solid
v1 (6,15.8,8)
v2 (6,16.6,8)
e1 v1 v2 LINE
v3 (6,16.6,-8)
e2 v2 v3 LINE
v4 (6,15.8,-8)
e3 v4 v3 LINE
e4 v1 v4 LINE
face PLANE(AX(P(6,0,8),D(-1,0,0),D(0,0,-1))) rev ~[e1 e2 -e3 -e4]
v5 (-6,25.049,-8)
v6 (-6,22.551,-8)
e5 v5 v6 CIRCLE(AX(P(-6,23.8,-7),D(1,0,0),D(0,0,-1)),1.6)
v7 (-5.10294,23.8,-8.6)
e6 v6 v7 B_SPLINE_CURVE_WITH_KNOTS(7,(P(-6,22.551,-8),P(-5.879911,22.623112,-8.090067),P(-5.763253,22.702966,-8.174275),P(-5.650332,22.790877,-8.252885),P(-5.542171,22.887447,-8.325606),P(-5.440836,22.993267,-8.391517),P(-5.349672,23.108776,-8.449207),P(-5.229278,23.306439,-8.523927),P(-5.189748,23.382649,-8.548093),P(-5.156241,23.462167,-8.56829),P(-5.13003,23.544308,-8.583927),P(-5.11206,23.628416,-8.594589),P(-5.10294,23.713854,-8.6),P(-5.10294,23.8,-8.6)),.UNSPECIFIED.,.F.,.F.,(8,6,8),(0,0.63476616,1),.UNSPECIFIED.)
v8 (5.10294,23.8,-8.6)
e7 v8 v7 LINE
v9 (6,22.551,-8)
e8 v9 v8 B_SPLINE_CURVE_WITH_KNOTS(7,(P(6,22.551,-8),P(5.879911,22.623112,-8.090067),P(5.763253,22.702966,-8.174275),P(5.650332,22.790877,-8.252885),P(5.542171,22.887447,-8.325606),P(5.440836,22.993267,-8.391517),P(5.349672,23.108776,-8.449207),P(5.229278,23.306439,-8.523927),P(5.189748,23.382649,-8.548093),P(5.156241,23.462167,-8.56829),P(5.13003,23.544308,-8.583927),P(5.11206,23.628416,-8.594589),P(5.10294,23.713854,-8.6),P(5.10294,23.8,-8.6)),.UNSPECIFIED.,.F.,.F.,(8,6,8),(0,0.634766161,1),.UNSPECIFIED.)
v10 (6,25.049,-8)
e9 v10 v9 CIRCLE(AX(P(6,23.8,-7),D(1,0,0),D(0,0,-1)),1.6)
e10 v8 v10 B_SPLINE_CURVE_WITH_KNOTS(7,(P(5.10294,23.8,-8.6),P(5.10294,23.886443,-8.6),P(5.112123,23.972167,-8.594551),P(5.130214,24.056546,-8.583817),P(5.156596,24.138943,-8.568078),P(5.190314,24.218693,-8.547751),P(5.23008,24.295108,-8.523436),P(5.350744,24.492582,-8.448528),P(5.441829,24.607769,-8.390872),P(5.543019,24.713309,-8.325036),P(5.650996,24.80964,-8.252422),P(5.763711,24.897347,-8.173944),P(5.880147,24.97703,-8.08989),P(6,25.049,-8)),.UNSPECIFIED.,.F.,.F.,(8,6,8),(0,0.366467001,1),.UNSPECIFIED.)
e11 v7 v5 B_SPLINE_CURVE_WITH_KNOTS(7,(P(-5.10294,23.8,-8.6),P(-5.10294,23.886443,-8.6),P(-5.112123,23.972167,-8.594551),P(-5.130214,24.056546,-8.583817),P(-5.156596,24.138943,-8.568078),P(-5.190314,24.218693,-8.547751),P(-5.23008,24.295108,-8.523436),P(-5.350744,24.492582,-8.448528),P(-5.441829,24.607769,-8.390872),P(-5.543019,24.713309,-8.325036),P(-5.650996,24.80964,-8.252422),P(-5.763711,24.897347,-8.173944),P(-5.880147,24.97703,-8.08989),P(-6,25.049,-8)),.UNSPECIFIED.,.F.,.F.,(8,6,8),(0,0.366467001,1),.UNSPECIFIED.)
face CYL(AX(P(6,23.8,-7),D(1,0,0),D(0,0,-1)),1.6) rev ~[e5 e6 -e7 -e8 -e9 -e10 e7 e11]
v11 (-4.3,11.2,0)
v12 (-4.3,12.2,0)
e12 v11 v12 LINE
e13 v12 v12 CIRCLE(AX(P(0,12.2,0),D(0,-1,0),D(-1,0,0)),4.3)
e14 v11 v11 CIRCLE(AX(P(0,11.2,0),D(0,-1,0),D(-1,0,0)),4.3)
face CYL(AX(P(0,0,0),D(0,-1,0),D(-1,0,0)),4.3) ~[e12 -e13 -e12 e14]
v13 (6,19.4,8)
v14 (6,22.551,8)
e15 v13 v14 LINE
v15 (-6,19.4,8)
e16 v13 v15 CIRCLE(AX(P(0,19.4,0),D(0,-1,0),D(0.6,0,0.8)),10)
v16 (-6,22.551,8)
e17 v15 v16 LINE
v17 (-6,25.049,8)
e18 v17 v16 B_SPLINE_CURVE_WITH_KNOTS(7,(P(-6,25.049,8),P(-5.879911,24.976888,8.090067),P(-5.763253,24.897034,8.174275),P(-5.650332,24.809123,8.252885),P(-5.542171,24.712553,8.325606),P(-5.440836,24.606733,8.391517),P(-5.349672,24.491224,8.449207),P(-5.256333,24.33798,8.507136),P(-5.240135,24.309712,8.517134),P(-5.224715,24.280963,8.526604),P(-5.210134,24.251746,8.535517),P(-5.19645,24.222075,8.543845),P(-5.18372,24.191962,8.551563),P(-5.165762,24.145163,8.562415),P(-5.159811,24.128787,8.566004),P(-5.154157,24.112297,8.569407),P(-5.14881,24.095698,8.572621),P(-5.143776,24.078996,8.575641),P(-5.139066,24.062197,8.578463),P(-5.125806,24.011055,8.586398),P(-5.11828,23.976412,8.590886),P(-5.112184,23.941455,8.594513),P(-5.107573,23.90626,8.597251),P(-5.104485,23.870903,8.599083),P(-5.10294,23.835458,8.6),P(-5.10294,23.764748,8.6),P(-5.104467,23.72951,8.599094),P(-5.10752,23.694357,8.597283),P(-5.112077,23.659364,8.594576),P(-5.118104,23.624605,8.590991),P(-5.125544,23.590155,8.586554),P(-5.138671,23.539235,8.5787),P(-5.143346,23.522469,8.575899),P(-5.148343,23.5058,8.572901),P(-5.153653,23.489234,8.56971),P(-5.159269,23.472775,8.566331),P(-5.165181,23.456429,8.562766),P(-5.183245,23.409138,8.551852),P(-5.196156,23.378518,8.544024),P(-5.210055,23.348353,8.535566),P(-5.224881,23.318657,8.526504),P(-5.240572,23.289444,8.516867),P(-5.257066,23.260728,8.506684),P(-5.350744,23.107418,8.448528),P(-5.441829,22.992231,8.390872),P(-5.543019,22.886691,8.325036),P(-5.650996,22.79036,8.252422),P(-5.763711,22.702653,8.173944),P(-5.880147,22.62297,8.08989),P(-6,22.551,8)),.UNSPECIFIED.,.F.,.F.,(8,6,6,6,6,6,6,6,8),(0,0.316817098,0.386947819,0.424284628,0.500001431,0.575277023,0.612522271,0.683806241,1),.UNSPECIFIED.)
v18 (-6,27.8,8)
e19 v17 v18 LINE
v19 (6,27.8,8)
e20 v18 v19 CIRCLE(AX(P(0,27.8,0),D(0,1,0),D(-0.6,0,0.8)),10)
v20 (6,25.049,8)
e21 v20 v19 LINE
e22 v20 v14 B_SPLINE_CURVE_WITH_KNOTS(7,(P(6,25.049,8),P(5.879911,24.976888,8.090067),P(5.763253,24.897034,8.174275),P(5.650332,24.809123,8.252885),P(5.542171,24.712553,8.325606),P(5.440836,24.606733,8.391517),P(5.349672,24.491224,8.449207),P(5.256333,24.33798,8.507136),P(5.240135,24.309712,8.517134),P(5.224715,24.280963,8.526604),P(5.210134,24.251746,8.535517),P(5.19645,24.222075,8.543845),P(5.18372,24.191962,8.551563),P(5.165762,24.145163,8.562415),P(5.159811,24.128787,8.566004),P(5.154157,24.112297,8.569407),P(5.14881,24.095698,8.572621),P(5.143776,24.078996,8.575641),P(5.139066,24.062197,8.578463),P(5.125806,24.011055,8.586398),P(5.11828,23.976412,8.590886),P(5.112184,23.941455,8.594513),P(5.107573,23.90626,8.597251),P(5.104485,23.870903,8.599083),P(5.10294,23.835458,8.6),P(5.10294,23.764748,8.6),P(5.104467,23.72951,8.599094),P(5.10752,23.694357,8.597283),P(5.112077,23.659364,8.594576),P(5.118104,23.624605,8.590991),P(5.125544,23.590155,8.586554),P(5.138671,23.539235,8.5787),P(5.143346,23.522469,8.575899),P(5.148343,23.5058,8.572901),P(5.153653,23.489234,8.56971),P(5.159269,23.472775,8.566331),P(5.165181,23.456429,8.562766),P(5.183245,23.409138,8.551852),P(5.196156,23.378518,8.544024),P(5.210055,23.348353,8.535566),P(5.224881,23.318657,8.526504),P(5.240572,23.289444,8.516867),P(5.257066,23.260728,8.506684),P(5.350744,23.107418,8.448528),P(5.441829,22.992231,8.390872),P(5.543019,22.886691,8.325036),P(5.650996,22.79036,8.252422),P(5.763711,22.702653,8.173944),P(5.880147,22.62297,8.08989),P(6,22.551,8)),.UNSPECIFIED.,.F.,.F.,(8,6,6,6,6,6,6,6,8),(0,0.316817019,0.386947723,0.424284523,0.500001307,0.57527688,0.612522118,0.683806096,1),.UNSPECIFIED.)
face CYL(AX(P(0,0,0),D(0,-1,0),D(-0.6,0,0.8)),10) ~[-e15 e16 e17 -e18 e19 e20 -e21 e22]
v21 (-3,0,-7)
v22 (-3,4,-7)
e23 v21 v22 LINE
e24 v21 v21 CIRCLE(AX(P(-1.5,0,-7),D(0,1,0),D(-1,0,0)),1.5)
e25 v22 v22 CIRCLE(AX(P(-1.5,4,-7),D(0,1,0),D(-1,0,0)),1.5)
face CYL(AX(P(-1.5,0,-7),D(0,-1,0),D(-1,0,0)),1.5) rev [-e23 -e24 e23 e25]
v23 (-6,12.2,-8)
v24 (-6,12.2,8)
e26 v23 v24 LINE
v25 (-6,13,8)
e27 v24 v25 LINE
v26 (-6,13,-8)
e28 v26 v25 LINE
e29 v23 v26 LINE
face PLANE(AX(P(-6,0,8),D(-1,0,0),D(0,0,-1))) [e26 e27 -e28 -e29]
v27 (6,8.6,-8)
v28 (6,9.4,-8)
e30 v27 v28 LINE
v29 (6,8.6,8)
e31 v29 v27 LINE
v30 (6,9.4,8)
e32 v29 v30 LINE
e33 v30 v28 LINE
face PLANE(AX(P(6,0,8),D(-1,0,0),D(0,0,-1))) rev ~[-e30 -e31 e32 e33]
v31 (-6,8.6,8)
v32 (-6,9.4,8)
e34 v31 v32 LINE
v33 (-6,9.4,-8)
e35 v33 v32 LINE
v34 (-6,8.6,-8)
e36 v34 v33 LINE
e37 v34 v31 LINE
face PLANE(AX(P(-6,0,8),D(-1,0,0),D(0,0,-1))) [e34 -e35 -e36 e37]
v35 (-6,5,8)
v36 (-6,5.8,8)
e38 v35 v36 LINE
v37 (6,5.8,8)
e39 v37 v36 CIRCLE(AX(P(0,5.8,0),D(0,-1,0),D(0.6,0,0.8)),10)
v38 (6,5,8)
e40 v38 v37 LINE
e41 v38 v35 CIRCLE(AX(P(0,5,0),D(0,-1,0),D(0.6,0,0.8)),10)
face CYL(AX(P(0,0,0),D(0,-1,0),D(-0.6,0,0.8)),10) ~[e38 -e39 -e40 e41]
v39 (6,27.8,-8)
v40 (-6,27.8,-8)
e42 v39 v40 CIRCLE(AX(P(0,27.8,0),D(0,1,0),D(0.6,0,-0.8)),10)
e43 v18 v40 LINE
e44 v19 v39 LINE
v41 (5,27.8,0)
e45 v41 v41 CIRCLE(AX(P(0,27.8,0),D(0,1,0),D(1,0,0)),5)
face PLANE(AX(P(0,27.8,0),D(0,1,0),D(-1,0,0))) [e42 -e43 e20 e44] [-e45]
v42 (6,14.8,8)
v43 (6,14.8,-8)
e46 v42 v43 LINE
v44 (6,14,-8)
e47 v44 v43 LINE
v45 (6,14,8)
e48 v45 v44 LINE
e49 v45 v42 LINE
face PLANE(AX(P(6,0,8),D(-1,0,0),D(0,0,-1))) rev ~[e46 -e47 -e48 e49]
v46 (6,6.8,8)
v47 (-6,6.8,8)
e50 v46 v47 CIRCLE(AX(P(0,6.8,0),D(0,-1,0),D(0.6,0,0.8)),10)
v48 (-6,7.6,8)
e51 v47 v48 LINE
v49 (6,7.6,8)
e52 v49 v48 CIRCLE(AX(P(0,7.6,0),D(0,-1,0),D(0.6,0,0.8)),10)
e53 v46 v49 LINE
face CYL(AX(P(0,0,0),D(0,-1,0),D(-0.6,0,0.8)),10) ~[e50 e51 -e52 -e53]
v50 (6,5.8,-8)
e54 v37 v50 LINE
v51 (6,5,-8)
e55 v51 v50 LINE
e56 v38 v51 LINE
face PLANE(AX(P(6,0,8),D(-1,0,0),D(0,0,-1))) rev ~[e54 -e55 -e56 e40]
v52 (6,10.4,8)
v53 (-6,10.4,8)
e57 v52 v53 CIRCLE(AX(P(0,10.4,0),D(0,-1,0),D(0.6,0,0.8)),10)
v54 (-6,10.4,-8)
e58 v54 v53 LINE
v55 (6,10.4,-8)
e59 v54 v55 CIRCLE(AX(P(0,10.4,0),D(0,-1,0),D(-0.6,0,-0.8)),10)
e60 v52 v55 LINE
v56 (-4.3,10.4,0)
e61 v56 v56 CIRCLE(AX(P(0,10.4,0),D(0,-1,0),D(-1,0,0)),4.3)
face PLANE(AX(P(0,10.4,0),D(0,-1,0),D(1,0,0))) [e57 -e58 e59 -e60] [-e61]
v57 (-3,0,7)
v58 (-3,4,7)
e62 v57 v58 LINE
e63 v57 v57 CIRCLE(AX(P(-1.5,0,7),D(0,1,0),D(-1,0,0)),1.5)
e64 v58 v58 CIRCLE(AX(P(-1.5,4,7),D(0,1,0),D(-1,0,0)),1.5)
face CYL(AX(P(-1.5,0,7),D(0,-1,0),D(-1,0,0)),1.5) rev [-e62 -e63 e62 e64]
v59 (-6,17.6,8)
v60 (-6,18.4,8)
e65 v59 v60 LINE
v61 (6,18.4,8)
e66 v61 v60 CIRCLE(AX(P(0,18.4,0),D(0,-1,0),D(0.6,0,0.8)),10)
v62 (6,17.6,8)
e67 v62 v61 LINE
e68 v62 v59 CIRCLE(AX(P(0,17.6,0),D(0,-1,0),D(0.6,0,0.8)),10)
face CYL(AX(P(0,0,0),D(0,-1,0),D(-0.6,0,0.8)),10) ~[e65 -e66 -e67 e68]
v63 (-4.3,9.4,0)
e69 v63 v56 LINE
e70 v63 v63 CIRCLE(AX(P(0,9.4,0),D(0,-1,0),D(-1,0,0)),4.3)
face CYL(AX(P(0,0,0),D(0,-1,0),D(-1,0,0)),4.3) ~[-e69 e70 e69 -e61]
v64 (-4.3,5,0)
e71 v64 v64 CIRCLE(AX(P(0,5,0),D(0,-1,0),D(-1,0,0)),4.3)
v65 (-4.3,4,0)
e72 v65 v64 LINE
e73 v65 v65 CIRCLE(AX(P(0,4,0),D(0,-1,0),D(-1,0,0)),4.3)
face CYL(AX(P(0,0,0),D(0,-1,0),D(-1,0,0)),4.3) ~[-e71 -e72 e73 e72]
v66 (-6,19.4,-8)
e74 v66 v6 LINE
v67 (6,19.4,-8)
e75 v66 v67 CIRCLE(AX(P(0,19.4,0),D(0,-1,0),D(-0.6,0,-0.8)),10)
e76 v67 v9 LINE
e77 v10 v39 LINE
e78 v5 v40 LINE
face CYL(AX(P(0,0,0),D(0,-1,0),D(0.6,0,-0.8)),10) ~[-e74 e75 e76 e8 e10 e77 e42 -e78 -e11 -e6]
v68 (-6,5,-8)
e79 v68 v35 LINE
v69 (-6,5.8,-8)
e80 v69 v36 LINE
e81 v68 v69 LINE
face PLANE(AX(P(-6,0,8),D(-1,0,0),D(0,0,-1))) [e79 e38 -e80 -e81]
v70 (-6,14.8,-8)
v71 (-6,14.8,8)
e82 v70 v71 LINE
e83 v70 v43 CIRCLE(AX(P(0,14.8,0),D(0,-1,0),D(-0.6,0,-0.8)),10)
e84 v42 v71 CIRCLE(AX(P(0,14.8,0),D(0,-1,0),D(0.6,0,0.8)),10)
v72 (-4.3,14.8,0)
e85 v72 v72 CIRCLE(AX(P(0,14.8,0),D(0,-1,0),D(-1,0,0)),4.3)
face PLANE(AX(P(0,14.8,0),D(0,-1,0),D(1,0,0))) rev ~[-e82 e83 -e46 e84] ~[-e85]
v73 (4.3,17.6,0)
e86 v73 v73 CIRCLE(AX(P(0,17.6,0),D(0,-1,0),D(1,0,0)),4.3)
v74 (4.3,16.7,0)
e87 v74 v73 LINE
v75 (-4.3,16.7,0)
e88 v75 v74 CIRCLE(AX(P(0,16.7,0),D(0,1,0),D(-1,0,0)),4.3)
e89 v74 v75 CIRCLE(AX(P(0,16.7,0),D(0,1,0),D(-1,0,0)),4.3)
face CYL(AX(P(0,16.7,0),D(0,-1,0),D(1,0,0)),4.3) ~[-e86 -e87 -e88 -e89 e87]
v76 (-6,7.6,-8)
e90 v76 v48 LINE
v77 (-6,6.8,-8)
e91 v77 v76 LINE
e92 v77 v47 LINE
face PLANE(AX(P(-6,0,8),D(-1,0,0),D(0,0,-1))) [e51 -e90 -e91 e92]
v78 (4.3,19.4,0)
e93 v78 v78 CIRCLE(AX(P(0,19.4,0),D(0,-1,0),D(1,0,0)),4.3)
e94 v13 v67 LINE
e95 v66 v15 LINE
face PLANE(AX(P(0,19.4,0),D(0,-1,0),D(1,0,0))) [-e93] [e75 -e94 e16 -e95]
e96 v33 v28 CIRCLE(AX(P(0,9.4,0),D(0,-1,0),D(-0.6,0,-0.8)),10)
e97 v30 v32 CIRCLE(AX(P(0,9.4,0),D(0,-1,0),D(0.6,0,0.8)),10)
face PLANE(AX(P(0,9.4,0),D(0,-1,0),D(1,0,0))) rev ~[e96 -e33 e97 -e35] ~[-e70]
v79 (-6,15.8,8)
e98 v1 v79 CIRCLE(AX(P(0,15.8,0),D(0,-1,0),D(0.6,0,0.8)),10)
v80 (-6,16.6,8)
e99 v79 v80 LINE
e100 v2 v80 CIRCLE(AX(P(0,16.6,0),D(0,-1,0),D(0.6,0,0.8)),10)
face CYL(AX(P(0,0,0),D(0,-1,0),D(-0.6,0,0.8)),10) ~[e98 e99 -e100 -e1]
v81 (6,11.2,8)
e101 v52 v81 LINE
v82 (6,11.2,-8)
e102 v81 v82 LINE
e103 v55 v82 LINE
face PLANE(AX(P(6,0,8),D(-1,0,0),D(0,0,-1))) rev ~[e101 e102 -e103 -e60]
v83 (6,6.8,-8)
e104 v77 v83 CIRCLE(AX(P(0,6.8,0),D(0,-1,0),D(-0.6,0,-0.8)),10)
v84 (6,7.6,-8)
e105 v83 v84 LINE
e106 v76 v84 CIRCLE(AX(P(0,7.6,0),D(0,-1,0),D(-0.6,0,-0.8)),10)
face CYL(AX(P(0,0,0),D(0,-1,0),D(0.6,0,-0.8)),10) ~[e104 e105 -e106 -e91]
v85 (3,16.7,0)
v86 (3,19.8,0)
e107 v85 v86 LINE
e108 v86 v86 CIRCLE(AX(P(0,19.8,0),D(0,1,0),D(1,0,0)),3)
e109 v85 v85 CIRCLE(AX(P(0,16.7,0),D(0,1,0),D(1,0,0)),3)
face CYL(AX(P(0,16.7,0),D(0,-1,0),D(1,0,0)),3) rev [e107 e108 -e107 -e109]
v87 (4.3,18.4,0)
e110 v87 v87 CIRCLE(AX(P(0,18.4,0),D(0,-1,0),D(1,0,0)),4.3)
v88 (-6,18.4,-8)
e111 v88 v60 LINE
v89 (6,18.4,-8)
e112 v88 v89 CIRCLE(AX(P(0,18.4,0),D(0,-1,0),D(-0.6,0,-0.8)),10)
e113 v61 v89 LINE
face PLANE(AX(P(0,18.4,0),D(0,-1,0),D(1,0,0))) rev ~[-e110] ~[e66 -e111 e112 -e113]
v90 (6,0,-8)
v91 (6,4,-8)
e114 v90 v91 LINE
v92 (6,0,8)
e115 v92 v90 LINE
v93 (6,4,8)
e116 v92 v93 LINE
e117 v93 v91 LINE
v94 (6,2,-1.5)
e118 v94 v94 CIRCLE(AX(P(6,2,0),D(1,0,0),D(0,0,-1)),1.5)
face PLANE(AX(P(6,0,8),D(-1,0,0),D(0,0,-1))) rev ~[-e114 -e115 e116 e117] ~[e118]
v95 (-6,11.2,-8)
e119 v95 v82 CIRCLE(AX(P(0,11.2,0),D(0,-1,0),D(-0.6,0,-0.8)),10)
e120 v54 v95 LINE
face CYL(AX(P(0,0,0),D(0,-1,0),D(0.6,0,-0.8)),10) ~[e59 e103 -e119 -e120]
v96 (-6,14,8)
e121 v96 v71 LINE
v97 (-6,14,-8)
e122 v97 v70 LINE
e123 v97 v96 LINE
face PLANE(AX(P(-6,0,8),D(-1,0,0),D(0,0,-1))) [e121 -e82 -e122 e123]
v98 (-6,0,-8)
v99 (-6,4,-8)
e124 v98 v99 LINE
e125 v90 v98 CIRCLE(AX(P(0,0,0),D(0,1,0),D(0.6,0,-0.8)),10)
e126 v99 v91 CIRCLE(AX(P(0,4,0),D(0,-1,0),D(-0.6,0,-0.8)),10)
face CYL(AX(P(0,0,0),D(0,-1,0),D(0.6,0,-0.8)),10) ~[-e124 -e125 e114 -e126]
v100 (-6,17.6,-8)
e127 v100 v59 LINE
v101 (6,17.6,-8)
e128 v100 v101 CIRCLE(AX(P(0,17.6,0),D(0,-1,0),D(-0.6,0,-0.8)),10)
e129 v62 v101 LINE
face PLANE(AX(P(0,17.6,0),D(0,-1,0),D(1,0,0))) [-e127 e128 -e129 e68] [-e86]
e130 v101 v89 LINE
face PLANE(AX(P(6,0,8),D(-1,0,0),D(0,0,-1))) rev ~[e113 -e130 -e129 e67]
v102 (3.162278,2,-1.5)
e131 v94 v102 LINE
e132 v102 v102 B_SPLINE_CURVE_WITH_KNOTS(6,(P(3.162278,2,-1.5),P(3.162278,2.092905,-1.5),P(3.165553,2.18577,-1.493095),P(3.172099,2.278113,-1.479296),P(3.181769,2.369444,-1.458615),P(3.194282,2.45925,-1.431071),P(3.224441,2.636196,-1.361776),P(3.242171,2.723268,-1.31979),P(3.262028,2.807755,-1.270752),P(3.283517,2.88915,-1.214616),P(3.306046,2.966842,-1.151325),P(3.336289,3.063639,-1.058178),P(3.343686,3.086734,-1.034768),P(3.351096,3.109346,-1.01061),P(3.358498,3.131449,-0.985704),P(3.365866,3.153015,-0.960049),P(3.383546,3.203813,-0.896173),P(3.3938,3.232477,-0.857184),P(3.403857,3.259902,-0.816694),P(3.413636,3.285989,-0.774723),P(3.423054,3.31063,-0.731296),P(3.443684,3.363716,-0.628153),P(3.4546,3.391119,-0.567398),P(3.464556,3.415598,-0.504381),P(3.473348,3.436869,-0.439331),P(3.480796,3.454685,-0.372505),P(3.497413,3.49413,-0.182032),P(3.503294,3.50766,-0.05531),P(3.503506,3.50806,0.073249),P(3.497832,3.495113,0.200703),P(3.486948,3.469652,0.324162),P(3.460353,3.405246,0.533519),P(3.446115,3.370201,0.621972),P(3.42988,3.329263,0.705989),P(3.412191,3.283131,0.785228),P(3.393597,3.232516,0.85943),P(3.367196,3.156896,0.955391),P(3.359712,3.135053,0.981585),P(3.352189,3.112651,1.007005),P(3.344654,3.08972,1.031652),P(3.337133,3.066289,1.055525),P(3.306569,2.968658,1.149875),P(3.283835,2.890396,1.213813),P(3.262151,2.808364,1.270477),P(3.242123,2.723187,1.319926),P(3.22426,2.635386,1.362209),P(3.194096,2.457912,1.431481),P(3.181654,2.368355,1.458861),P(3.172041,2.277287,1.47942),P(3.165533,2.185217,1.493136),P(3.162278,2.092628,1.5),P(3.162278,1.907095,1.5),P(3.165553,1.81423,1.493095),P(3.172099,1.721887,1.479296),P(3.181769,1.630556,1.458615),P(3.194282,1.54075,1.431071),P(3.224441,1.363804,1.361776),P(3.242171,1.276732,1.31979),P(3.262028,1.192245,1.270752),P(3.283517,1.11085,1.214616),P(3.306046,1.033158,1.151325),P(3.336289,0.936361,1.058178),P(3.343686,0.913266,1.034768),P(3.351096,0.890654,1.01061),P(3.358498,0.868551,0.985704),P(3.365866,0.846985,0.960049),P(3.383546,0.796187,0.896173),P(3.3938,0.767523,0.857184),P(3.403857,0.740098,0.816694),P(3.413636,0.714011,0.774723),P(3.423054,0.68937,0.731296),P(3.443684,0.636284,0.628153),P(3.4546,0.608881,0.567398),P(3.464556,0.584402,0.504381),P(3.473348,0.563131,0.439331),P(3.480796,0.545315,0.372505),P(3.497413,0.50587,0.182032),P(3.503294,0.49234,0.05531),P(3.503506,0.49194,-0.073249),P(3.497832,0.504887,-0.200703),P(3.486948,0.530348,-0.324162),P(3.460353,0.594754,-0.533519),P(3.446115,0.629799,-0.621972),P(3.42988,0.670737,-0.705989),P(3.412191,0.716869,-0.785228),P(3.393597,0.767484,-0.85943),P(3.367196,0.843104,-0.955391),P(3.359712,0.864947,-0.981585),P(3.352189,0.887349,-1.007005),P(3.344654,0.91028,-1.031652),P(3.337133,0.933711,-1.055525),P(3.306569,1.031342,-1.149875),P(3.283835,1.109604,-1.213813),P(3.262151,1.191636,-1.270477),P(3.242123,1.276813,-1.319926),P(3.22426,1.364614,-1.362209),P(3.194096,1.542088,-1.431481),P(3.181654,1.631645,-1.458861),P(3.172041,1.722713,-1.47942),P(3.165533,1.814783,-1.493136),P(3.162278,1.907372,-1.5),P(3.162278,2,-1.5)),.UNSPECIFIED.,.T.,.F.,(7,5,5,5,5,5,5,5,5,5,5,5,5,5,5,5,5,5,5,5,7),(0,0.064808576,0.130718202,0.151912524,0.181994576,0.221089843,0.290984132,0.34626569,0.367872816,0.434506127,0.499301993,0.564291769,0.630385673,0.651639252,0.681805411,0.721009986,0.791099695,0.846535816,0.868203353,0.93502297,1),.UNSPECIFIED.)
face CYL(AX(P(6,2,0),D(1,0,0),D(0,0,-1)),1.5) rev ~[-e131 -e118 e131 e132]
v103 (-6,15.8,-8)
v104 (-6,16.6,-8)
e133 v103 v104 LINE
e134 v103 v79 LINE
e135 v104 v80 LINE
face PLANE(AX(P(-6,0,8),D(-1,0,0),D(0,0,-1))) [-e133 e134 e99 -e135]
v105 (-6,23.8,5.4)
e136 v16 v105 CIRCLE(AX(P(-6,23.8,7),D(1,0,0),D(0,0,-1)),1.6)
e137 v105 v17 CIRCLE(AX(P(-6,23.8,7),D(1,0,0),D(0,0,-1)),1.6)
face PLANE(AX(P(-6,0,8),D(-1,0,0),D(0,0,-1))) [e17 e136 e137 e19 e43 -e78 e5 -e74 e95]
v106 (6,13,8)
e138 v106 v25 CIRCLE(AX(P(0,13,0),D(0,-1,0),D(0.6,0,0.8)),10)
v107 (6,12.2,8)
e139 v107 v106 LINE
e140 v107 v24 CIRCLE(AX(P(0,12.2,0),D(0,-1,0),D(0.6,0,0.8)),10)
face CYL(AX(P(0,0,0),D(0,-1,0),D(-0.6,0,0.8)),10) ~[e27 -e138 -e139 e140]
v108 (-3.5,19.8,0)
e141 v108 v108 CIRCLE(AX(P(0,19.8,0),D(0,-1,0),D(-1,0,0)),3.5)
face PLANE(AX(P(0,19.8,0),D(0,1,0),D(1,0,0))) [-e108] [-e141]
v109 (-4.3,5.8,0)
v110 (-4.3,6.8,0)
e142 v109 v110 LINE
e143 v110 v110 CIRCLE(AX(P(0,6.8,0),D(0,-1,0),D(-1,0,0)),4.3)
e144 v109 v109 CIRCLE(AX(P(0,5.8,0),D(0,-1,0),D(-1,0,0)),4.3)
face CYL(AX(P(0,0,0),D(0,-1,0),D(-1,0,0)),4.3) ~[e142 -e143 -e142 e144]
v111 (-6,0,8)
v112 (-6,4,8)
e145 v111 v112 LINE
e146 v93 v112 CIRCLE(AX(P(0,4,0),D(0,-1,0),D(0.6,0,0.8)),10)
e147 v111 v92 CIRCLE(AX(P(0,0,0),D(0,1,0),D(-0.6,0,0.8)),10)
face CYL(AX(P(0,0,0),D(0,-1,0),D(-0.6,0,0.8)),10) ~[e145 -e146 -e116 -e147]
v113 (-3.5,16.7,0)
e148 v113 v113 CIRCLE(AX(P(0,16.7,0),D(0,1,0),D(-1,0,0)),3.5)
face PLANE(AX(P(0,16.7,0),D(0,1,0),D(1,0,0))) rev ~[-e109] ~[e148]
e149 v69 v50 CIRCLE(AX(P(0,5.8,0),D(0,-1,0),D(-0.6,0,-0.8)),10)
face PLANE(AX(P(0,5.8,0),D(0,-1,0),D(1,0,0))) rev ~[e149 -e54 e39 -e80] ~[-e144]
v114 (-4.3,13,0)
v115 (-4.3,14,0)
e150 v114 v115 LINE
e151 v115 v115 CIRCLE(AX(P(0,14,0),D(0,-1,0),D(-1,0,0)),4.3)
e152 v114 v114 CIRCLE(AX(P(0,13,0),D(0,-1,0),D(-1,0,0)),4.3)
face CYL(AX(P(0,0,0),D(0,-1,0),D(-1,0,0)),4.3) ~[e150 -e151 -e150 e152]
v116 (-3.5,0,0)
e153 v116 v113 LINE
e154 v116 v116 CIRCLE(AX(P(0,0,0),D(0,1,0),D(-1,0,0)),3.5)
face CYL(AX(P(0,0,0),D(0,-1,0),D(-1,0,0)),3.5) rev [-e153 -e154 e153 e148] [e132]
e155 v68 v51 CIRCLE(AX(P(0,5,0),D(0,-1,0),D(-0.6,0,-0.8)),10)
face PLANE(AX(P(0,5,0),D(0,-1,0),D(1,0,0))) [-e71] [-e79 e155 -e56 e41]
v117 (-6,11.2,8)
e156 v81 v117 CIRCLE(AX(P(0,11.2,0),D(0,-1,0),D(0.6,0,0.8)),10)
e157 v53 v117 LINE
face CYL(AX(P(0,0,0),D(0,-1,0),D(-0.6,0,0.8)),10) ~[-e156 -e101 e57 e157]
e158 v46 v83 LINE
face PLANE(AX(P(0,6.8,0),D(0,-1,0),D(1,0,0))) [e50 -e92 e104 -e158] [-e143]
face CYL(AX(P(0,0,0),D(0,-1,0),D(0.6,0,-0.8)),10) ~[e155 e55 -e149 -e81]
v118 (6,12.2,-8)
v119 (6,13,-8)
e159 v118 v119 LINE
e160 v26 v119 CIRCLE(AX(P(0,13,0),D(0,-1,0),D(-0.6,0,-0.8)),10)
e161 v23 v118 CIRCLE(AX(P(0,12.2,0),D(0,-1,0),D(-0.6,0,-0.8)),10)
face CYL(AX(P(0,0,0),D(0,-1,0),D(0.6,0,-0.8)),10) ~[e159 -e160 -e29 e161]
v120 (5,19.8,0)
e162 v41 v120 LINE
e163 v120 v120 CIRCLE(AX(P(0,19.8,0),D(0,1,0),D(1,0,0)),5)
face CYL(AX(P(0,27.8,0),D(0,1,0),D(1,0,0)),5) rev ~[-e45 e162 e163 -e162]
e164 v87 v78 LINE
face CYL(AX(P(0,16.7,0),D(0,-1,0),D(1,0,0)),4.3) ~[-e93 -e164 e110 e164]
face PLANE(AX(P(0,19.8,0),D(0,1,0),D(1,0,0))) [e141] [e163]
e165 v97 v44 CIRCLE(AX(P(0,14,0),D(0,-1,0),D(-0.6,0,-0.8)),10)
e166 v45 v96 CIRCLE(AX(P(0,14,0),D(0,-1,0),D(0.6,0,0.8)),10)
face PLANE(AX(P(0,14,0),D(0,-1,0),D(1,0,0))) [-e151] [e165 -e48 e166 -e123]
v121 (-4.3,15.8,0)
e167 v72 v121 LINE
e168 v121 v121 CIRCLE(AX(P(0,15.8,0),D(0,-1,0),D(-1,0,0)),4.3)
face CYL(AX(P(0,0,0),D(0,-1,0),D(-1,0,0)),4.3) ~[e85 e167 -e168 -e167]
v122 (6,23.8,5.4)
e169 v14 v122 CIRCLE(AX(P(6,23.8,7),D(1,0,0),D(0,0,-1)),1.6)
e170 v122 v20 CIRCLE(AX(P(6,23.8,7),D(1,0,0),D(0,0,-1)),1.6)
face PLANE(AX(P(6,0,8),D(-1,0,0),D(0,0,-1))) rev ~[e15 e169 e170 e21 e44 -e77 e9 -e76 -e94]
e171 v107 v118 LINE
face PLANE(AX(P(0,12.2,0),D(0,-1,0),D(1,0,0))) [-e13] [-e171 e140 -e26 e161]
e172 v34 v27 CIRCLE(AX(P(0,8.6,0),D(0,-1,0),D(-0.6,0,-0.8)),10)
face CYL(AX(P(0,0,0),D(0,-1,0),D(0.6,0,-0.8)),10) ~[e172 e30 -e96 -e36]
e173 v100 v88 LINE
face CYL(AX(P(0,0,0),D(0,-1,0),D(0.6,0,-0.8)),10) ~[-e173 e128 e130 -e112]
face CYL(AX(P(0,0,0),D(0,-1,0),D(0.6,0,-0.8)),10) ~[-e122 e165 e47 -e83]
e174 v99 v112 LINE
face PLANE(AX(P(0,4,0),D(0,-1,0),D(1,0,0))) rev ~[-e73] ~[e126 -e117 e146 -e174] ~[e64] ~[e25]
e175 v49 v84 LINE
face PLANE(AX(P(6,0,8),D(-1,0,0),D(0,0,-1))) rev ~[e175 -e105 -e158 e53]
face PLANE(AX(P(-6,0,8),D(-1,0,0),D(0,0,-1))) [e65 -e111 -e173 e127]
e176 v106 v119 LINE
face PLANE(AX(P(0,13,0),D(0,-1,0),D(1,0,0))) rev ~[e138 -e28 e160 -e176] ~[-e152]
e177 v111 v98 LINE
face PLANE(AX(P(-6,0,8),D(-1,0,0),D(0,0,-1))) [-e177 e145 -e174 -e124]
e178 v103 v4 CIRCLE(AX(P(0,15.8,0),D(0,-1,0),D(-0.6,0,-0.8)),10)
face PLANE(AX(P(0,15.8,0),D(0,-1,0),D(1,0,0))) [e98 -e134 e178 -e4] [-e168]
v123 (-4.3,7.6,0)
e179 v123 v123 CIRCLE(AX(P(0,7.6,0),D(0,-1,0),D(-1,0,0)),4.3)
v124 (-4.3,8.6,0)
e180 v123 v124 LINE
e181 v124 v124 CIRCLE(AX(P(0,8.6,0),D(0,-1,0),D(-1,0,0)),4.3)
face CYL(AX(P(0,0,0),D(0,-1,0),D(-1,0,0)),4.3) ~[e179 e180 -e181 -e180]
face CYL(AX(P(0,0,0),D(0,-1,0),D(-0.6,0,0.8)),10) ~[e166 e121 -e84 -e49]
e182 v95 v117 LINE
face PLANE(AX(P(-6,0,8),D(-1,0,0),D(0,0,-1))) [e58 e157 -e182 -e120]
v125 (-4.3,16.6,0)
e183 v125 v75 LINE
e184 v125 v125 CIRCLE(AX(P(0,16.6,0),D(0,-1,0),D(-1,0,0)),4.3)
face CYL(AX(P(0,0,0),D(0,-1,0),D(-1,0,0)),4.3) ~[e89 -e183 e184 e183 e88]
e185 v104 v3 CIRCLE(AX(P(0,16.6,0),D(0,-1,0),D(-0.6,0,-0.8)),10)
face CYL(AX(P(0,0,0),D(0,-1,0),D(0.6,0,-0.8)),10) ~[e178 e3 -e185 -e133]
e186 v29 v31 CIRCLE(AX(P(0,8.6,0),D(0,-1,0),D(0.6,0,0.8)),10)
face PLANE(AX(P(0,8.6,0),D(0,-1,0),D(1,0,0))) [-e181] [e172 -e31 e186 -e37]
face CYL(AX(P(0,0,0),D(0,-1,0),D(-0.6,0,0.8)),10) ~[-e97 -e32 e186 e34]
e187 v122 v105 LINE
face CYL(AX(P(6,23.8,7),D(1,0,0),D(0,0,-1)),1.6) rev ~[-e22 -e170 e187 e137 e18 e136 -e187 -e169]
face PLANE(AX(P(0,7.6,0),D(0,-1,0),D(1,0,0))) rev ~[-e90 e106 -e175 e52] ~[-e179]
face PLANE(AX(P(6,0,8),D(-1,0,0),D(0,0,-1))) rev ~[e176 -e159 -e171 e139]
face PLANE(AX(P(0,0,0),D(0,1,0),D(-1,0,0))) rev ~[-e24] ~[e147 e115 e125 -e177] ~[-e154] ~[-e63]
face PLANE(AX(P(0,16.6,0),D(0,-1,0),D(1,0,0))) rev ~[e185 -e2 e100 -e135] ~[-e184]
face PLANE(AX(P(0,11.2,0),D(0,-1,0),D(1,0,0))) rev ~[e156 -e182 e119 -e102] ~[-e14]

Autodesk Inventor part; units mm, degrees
ref_plane "YZ Plane" through (0, 0, 0) normal (1, 0, 0) x (0, 1, 0)
ref_plane "XZ Plane" through (0, 0, 0) normal (0, 1, 0) x (-1, 0, 0)
sketch "Sketch1" plane through (0, 0, 0) normal (0, 1, 0) x (-1, 0, 0)
  line L0 (6, 8) -> (6, -8)
  line L1 (-6, 8) -> (-6, -8)
  arc A0 (6, 8) -> (-6, 8) centre (0, 0) ccw
  arc A1 (-6, -8) -> (6, -8) centre (0, 0) ccw
  circle A2 centre (1.5, 7) radius 1.5
  line L2 (0, 0) -> (6, 0) construction
  circle A3 centre (1.5, -7) radius 1.5
  circle A4 centre (0, 0) radius 3.5
  circle A5 centre (0, 0) radius 4.3
  dimension "d0" = 10
  dimension "d1" = 10
  dimension "d3" = 12
  dimension "d4" = 3
  dimension "d5" = 7
  dimension "d6" = 1.5
  dimension "d7" = 7
  dimension "d16" = 8.6
extrude "Extrusion1" add sketch "Sketch1" along normal blind 27.8 contours L0 A1 L1 A0 | A2 | A3 | A5
ref_plane "Work Plane1" through (0, 4, 0) normal (0, -1, 0) x (1, 0, 0)
sketch "Sketch2" plane through (0, 4, 0) normal (0, -1, 0) x (1, 0, 0)
  line L0 (-6, -8) -> (-6, 8) projected
  arc A0 (6, 8) -> (-6, 8) centre (0, 0) ccw projected
  line L1 (6, 8) -> (6, -8) projected
  arc A1 (-6, -8) -> (6, -8) centre (0, 0) ccw projected
extrude "Extrusion2" cut sketch "Sketch2" against normal blind 1
pattern_linear "Rectangular Pattern1" count 9 spacing 1.8 along (0, 1, 0) of "Extrusion2"
extrude "Extrusion3" add sketch "Sketch1" along normal blind 16.7 contours A5
sketch "Sketch3" plane through (0, 16.7, 0) normal (0, 1, 0) x (1, 0, 0)
  circle A0 centre (0, 0) radius 4.3 projected
  circle A1 centre (0, 0) radius 3
  dimension "d19" = 6
extrude "Extrusion4" add sketch "Sketch3" along normal blind 3.1
sketch "Sketch4" plane through (0, 27.8, 0) normal (0, 1, 0) x (1, 0, 0)
  circle A0 centre (0, 0) radius 5
  dimension "d22" = 10
extrude "Extrusion5" cut sketch "Sketch4" against normal blind 8
extrude "Extrusion6" cut sketch "Sketch1" along normal blind 4 contours A2 | A3
sketch "Sketch5" plane through (6, 27.8, 8) normal (1, 0, 0) x (0, 0, -1)
  circle A0 centre (1, -4) radius 1.6
  circle A1 centre (15, -4) radius 1.6
  point P0 (8, -27.8)
  dimension "d27" = 3.2
  dimension "d28" = 23.8
  dimension "d29" = 14
  dimension "d31" = 7
extrude "Extrusion7" cut sketch "Sketch5" against normal blind 12
sketch "Sketch6" plane through (6, 0, 8) normal (1, 0, 0) x (0, 0, -1)
  circle A0 centre (8, 2) radius 1.5
  line L0 (0, 0) -> (16, 0) projected
  point P0 (8, 0)
  point P1 (8, 0)
  dimension "d34" = 2
  dimension "d35" = 3
extrude "Extrusion8" cut sketch "Sketch6" against normal blind 4.75
properties part number "ENDER 3 RAD" material "Aluminum 6061"
